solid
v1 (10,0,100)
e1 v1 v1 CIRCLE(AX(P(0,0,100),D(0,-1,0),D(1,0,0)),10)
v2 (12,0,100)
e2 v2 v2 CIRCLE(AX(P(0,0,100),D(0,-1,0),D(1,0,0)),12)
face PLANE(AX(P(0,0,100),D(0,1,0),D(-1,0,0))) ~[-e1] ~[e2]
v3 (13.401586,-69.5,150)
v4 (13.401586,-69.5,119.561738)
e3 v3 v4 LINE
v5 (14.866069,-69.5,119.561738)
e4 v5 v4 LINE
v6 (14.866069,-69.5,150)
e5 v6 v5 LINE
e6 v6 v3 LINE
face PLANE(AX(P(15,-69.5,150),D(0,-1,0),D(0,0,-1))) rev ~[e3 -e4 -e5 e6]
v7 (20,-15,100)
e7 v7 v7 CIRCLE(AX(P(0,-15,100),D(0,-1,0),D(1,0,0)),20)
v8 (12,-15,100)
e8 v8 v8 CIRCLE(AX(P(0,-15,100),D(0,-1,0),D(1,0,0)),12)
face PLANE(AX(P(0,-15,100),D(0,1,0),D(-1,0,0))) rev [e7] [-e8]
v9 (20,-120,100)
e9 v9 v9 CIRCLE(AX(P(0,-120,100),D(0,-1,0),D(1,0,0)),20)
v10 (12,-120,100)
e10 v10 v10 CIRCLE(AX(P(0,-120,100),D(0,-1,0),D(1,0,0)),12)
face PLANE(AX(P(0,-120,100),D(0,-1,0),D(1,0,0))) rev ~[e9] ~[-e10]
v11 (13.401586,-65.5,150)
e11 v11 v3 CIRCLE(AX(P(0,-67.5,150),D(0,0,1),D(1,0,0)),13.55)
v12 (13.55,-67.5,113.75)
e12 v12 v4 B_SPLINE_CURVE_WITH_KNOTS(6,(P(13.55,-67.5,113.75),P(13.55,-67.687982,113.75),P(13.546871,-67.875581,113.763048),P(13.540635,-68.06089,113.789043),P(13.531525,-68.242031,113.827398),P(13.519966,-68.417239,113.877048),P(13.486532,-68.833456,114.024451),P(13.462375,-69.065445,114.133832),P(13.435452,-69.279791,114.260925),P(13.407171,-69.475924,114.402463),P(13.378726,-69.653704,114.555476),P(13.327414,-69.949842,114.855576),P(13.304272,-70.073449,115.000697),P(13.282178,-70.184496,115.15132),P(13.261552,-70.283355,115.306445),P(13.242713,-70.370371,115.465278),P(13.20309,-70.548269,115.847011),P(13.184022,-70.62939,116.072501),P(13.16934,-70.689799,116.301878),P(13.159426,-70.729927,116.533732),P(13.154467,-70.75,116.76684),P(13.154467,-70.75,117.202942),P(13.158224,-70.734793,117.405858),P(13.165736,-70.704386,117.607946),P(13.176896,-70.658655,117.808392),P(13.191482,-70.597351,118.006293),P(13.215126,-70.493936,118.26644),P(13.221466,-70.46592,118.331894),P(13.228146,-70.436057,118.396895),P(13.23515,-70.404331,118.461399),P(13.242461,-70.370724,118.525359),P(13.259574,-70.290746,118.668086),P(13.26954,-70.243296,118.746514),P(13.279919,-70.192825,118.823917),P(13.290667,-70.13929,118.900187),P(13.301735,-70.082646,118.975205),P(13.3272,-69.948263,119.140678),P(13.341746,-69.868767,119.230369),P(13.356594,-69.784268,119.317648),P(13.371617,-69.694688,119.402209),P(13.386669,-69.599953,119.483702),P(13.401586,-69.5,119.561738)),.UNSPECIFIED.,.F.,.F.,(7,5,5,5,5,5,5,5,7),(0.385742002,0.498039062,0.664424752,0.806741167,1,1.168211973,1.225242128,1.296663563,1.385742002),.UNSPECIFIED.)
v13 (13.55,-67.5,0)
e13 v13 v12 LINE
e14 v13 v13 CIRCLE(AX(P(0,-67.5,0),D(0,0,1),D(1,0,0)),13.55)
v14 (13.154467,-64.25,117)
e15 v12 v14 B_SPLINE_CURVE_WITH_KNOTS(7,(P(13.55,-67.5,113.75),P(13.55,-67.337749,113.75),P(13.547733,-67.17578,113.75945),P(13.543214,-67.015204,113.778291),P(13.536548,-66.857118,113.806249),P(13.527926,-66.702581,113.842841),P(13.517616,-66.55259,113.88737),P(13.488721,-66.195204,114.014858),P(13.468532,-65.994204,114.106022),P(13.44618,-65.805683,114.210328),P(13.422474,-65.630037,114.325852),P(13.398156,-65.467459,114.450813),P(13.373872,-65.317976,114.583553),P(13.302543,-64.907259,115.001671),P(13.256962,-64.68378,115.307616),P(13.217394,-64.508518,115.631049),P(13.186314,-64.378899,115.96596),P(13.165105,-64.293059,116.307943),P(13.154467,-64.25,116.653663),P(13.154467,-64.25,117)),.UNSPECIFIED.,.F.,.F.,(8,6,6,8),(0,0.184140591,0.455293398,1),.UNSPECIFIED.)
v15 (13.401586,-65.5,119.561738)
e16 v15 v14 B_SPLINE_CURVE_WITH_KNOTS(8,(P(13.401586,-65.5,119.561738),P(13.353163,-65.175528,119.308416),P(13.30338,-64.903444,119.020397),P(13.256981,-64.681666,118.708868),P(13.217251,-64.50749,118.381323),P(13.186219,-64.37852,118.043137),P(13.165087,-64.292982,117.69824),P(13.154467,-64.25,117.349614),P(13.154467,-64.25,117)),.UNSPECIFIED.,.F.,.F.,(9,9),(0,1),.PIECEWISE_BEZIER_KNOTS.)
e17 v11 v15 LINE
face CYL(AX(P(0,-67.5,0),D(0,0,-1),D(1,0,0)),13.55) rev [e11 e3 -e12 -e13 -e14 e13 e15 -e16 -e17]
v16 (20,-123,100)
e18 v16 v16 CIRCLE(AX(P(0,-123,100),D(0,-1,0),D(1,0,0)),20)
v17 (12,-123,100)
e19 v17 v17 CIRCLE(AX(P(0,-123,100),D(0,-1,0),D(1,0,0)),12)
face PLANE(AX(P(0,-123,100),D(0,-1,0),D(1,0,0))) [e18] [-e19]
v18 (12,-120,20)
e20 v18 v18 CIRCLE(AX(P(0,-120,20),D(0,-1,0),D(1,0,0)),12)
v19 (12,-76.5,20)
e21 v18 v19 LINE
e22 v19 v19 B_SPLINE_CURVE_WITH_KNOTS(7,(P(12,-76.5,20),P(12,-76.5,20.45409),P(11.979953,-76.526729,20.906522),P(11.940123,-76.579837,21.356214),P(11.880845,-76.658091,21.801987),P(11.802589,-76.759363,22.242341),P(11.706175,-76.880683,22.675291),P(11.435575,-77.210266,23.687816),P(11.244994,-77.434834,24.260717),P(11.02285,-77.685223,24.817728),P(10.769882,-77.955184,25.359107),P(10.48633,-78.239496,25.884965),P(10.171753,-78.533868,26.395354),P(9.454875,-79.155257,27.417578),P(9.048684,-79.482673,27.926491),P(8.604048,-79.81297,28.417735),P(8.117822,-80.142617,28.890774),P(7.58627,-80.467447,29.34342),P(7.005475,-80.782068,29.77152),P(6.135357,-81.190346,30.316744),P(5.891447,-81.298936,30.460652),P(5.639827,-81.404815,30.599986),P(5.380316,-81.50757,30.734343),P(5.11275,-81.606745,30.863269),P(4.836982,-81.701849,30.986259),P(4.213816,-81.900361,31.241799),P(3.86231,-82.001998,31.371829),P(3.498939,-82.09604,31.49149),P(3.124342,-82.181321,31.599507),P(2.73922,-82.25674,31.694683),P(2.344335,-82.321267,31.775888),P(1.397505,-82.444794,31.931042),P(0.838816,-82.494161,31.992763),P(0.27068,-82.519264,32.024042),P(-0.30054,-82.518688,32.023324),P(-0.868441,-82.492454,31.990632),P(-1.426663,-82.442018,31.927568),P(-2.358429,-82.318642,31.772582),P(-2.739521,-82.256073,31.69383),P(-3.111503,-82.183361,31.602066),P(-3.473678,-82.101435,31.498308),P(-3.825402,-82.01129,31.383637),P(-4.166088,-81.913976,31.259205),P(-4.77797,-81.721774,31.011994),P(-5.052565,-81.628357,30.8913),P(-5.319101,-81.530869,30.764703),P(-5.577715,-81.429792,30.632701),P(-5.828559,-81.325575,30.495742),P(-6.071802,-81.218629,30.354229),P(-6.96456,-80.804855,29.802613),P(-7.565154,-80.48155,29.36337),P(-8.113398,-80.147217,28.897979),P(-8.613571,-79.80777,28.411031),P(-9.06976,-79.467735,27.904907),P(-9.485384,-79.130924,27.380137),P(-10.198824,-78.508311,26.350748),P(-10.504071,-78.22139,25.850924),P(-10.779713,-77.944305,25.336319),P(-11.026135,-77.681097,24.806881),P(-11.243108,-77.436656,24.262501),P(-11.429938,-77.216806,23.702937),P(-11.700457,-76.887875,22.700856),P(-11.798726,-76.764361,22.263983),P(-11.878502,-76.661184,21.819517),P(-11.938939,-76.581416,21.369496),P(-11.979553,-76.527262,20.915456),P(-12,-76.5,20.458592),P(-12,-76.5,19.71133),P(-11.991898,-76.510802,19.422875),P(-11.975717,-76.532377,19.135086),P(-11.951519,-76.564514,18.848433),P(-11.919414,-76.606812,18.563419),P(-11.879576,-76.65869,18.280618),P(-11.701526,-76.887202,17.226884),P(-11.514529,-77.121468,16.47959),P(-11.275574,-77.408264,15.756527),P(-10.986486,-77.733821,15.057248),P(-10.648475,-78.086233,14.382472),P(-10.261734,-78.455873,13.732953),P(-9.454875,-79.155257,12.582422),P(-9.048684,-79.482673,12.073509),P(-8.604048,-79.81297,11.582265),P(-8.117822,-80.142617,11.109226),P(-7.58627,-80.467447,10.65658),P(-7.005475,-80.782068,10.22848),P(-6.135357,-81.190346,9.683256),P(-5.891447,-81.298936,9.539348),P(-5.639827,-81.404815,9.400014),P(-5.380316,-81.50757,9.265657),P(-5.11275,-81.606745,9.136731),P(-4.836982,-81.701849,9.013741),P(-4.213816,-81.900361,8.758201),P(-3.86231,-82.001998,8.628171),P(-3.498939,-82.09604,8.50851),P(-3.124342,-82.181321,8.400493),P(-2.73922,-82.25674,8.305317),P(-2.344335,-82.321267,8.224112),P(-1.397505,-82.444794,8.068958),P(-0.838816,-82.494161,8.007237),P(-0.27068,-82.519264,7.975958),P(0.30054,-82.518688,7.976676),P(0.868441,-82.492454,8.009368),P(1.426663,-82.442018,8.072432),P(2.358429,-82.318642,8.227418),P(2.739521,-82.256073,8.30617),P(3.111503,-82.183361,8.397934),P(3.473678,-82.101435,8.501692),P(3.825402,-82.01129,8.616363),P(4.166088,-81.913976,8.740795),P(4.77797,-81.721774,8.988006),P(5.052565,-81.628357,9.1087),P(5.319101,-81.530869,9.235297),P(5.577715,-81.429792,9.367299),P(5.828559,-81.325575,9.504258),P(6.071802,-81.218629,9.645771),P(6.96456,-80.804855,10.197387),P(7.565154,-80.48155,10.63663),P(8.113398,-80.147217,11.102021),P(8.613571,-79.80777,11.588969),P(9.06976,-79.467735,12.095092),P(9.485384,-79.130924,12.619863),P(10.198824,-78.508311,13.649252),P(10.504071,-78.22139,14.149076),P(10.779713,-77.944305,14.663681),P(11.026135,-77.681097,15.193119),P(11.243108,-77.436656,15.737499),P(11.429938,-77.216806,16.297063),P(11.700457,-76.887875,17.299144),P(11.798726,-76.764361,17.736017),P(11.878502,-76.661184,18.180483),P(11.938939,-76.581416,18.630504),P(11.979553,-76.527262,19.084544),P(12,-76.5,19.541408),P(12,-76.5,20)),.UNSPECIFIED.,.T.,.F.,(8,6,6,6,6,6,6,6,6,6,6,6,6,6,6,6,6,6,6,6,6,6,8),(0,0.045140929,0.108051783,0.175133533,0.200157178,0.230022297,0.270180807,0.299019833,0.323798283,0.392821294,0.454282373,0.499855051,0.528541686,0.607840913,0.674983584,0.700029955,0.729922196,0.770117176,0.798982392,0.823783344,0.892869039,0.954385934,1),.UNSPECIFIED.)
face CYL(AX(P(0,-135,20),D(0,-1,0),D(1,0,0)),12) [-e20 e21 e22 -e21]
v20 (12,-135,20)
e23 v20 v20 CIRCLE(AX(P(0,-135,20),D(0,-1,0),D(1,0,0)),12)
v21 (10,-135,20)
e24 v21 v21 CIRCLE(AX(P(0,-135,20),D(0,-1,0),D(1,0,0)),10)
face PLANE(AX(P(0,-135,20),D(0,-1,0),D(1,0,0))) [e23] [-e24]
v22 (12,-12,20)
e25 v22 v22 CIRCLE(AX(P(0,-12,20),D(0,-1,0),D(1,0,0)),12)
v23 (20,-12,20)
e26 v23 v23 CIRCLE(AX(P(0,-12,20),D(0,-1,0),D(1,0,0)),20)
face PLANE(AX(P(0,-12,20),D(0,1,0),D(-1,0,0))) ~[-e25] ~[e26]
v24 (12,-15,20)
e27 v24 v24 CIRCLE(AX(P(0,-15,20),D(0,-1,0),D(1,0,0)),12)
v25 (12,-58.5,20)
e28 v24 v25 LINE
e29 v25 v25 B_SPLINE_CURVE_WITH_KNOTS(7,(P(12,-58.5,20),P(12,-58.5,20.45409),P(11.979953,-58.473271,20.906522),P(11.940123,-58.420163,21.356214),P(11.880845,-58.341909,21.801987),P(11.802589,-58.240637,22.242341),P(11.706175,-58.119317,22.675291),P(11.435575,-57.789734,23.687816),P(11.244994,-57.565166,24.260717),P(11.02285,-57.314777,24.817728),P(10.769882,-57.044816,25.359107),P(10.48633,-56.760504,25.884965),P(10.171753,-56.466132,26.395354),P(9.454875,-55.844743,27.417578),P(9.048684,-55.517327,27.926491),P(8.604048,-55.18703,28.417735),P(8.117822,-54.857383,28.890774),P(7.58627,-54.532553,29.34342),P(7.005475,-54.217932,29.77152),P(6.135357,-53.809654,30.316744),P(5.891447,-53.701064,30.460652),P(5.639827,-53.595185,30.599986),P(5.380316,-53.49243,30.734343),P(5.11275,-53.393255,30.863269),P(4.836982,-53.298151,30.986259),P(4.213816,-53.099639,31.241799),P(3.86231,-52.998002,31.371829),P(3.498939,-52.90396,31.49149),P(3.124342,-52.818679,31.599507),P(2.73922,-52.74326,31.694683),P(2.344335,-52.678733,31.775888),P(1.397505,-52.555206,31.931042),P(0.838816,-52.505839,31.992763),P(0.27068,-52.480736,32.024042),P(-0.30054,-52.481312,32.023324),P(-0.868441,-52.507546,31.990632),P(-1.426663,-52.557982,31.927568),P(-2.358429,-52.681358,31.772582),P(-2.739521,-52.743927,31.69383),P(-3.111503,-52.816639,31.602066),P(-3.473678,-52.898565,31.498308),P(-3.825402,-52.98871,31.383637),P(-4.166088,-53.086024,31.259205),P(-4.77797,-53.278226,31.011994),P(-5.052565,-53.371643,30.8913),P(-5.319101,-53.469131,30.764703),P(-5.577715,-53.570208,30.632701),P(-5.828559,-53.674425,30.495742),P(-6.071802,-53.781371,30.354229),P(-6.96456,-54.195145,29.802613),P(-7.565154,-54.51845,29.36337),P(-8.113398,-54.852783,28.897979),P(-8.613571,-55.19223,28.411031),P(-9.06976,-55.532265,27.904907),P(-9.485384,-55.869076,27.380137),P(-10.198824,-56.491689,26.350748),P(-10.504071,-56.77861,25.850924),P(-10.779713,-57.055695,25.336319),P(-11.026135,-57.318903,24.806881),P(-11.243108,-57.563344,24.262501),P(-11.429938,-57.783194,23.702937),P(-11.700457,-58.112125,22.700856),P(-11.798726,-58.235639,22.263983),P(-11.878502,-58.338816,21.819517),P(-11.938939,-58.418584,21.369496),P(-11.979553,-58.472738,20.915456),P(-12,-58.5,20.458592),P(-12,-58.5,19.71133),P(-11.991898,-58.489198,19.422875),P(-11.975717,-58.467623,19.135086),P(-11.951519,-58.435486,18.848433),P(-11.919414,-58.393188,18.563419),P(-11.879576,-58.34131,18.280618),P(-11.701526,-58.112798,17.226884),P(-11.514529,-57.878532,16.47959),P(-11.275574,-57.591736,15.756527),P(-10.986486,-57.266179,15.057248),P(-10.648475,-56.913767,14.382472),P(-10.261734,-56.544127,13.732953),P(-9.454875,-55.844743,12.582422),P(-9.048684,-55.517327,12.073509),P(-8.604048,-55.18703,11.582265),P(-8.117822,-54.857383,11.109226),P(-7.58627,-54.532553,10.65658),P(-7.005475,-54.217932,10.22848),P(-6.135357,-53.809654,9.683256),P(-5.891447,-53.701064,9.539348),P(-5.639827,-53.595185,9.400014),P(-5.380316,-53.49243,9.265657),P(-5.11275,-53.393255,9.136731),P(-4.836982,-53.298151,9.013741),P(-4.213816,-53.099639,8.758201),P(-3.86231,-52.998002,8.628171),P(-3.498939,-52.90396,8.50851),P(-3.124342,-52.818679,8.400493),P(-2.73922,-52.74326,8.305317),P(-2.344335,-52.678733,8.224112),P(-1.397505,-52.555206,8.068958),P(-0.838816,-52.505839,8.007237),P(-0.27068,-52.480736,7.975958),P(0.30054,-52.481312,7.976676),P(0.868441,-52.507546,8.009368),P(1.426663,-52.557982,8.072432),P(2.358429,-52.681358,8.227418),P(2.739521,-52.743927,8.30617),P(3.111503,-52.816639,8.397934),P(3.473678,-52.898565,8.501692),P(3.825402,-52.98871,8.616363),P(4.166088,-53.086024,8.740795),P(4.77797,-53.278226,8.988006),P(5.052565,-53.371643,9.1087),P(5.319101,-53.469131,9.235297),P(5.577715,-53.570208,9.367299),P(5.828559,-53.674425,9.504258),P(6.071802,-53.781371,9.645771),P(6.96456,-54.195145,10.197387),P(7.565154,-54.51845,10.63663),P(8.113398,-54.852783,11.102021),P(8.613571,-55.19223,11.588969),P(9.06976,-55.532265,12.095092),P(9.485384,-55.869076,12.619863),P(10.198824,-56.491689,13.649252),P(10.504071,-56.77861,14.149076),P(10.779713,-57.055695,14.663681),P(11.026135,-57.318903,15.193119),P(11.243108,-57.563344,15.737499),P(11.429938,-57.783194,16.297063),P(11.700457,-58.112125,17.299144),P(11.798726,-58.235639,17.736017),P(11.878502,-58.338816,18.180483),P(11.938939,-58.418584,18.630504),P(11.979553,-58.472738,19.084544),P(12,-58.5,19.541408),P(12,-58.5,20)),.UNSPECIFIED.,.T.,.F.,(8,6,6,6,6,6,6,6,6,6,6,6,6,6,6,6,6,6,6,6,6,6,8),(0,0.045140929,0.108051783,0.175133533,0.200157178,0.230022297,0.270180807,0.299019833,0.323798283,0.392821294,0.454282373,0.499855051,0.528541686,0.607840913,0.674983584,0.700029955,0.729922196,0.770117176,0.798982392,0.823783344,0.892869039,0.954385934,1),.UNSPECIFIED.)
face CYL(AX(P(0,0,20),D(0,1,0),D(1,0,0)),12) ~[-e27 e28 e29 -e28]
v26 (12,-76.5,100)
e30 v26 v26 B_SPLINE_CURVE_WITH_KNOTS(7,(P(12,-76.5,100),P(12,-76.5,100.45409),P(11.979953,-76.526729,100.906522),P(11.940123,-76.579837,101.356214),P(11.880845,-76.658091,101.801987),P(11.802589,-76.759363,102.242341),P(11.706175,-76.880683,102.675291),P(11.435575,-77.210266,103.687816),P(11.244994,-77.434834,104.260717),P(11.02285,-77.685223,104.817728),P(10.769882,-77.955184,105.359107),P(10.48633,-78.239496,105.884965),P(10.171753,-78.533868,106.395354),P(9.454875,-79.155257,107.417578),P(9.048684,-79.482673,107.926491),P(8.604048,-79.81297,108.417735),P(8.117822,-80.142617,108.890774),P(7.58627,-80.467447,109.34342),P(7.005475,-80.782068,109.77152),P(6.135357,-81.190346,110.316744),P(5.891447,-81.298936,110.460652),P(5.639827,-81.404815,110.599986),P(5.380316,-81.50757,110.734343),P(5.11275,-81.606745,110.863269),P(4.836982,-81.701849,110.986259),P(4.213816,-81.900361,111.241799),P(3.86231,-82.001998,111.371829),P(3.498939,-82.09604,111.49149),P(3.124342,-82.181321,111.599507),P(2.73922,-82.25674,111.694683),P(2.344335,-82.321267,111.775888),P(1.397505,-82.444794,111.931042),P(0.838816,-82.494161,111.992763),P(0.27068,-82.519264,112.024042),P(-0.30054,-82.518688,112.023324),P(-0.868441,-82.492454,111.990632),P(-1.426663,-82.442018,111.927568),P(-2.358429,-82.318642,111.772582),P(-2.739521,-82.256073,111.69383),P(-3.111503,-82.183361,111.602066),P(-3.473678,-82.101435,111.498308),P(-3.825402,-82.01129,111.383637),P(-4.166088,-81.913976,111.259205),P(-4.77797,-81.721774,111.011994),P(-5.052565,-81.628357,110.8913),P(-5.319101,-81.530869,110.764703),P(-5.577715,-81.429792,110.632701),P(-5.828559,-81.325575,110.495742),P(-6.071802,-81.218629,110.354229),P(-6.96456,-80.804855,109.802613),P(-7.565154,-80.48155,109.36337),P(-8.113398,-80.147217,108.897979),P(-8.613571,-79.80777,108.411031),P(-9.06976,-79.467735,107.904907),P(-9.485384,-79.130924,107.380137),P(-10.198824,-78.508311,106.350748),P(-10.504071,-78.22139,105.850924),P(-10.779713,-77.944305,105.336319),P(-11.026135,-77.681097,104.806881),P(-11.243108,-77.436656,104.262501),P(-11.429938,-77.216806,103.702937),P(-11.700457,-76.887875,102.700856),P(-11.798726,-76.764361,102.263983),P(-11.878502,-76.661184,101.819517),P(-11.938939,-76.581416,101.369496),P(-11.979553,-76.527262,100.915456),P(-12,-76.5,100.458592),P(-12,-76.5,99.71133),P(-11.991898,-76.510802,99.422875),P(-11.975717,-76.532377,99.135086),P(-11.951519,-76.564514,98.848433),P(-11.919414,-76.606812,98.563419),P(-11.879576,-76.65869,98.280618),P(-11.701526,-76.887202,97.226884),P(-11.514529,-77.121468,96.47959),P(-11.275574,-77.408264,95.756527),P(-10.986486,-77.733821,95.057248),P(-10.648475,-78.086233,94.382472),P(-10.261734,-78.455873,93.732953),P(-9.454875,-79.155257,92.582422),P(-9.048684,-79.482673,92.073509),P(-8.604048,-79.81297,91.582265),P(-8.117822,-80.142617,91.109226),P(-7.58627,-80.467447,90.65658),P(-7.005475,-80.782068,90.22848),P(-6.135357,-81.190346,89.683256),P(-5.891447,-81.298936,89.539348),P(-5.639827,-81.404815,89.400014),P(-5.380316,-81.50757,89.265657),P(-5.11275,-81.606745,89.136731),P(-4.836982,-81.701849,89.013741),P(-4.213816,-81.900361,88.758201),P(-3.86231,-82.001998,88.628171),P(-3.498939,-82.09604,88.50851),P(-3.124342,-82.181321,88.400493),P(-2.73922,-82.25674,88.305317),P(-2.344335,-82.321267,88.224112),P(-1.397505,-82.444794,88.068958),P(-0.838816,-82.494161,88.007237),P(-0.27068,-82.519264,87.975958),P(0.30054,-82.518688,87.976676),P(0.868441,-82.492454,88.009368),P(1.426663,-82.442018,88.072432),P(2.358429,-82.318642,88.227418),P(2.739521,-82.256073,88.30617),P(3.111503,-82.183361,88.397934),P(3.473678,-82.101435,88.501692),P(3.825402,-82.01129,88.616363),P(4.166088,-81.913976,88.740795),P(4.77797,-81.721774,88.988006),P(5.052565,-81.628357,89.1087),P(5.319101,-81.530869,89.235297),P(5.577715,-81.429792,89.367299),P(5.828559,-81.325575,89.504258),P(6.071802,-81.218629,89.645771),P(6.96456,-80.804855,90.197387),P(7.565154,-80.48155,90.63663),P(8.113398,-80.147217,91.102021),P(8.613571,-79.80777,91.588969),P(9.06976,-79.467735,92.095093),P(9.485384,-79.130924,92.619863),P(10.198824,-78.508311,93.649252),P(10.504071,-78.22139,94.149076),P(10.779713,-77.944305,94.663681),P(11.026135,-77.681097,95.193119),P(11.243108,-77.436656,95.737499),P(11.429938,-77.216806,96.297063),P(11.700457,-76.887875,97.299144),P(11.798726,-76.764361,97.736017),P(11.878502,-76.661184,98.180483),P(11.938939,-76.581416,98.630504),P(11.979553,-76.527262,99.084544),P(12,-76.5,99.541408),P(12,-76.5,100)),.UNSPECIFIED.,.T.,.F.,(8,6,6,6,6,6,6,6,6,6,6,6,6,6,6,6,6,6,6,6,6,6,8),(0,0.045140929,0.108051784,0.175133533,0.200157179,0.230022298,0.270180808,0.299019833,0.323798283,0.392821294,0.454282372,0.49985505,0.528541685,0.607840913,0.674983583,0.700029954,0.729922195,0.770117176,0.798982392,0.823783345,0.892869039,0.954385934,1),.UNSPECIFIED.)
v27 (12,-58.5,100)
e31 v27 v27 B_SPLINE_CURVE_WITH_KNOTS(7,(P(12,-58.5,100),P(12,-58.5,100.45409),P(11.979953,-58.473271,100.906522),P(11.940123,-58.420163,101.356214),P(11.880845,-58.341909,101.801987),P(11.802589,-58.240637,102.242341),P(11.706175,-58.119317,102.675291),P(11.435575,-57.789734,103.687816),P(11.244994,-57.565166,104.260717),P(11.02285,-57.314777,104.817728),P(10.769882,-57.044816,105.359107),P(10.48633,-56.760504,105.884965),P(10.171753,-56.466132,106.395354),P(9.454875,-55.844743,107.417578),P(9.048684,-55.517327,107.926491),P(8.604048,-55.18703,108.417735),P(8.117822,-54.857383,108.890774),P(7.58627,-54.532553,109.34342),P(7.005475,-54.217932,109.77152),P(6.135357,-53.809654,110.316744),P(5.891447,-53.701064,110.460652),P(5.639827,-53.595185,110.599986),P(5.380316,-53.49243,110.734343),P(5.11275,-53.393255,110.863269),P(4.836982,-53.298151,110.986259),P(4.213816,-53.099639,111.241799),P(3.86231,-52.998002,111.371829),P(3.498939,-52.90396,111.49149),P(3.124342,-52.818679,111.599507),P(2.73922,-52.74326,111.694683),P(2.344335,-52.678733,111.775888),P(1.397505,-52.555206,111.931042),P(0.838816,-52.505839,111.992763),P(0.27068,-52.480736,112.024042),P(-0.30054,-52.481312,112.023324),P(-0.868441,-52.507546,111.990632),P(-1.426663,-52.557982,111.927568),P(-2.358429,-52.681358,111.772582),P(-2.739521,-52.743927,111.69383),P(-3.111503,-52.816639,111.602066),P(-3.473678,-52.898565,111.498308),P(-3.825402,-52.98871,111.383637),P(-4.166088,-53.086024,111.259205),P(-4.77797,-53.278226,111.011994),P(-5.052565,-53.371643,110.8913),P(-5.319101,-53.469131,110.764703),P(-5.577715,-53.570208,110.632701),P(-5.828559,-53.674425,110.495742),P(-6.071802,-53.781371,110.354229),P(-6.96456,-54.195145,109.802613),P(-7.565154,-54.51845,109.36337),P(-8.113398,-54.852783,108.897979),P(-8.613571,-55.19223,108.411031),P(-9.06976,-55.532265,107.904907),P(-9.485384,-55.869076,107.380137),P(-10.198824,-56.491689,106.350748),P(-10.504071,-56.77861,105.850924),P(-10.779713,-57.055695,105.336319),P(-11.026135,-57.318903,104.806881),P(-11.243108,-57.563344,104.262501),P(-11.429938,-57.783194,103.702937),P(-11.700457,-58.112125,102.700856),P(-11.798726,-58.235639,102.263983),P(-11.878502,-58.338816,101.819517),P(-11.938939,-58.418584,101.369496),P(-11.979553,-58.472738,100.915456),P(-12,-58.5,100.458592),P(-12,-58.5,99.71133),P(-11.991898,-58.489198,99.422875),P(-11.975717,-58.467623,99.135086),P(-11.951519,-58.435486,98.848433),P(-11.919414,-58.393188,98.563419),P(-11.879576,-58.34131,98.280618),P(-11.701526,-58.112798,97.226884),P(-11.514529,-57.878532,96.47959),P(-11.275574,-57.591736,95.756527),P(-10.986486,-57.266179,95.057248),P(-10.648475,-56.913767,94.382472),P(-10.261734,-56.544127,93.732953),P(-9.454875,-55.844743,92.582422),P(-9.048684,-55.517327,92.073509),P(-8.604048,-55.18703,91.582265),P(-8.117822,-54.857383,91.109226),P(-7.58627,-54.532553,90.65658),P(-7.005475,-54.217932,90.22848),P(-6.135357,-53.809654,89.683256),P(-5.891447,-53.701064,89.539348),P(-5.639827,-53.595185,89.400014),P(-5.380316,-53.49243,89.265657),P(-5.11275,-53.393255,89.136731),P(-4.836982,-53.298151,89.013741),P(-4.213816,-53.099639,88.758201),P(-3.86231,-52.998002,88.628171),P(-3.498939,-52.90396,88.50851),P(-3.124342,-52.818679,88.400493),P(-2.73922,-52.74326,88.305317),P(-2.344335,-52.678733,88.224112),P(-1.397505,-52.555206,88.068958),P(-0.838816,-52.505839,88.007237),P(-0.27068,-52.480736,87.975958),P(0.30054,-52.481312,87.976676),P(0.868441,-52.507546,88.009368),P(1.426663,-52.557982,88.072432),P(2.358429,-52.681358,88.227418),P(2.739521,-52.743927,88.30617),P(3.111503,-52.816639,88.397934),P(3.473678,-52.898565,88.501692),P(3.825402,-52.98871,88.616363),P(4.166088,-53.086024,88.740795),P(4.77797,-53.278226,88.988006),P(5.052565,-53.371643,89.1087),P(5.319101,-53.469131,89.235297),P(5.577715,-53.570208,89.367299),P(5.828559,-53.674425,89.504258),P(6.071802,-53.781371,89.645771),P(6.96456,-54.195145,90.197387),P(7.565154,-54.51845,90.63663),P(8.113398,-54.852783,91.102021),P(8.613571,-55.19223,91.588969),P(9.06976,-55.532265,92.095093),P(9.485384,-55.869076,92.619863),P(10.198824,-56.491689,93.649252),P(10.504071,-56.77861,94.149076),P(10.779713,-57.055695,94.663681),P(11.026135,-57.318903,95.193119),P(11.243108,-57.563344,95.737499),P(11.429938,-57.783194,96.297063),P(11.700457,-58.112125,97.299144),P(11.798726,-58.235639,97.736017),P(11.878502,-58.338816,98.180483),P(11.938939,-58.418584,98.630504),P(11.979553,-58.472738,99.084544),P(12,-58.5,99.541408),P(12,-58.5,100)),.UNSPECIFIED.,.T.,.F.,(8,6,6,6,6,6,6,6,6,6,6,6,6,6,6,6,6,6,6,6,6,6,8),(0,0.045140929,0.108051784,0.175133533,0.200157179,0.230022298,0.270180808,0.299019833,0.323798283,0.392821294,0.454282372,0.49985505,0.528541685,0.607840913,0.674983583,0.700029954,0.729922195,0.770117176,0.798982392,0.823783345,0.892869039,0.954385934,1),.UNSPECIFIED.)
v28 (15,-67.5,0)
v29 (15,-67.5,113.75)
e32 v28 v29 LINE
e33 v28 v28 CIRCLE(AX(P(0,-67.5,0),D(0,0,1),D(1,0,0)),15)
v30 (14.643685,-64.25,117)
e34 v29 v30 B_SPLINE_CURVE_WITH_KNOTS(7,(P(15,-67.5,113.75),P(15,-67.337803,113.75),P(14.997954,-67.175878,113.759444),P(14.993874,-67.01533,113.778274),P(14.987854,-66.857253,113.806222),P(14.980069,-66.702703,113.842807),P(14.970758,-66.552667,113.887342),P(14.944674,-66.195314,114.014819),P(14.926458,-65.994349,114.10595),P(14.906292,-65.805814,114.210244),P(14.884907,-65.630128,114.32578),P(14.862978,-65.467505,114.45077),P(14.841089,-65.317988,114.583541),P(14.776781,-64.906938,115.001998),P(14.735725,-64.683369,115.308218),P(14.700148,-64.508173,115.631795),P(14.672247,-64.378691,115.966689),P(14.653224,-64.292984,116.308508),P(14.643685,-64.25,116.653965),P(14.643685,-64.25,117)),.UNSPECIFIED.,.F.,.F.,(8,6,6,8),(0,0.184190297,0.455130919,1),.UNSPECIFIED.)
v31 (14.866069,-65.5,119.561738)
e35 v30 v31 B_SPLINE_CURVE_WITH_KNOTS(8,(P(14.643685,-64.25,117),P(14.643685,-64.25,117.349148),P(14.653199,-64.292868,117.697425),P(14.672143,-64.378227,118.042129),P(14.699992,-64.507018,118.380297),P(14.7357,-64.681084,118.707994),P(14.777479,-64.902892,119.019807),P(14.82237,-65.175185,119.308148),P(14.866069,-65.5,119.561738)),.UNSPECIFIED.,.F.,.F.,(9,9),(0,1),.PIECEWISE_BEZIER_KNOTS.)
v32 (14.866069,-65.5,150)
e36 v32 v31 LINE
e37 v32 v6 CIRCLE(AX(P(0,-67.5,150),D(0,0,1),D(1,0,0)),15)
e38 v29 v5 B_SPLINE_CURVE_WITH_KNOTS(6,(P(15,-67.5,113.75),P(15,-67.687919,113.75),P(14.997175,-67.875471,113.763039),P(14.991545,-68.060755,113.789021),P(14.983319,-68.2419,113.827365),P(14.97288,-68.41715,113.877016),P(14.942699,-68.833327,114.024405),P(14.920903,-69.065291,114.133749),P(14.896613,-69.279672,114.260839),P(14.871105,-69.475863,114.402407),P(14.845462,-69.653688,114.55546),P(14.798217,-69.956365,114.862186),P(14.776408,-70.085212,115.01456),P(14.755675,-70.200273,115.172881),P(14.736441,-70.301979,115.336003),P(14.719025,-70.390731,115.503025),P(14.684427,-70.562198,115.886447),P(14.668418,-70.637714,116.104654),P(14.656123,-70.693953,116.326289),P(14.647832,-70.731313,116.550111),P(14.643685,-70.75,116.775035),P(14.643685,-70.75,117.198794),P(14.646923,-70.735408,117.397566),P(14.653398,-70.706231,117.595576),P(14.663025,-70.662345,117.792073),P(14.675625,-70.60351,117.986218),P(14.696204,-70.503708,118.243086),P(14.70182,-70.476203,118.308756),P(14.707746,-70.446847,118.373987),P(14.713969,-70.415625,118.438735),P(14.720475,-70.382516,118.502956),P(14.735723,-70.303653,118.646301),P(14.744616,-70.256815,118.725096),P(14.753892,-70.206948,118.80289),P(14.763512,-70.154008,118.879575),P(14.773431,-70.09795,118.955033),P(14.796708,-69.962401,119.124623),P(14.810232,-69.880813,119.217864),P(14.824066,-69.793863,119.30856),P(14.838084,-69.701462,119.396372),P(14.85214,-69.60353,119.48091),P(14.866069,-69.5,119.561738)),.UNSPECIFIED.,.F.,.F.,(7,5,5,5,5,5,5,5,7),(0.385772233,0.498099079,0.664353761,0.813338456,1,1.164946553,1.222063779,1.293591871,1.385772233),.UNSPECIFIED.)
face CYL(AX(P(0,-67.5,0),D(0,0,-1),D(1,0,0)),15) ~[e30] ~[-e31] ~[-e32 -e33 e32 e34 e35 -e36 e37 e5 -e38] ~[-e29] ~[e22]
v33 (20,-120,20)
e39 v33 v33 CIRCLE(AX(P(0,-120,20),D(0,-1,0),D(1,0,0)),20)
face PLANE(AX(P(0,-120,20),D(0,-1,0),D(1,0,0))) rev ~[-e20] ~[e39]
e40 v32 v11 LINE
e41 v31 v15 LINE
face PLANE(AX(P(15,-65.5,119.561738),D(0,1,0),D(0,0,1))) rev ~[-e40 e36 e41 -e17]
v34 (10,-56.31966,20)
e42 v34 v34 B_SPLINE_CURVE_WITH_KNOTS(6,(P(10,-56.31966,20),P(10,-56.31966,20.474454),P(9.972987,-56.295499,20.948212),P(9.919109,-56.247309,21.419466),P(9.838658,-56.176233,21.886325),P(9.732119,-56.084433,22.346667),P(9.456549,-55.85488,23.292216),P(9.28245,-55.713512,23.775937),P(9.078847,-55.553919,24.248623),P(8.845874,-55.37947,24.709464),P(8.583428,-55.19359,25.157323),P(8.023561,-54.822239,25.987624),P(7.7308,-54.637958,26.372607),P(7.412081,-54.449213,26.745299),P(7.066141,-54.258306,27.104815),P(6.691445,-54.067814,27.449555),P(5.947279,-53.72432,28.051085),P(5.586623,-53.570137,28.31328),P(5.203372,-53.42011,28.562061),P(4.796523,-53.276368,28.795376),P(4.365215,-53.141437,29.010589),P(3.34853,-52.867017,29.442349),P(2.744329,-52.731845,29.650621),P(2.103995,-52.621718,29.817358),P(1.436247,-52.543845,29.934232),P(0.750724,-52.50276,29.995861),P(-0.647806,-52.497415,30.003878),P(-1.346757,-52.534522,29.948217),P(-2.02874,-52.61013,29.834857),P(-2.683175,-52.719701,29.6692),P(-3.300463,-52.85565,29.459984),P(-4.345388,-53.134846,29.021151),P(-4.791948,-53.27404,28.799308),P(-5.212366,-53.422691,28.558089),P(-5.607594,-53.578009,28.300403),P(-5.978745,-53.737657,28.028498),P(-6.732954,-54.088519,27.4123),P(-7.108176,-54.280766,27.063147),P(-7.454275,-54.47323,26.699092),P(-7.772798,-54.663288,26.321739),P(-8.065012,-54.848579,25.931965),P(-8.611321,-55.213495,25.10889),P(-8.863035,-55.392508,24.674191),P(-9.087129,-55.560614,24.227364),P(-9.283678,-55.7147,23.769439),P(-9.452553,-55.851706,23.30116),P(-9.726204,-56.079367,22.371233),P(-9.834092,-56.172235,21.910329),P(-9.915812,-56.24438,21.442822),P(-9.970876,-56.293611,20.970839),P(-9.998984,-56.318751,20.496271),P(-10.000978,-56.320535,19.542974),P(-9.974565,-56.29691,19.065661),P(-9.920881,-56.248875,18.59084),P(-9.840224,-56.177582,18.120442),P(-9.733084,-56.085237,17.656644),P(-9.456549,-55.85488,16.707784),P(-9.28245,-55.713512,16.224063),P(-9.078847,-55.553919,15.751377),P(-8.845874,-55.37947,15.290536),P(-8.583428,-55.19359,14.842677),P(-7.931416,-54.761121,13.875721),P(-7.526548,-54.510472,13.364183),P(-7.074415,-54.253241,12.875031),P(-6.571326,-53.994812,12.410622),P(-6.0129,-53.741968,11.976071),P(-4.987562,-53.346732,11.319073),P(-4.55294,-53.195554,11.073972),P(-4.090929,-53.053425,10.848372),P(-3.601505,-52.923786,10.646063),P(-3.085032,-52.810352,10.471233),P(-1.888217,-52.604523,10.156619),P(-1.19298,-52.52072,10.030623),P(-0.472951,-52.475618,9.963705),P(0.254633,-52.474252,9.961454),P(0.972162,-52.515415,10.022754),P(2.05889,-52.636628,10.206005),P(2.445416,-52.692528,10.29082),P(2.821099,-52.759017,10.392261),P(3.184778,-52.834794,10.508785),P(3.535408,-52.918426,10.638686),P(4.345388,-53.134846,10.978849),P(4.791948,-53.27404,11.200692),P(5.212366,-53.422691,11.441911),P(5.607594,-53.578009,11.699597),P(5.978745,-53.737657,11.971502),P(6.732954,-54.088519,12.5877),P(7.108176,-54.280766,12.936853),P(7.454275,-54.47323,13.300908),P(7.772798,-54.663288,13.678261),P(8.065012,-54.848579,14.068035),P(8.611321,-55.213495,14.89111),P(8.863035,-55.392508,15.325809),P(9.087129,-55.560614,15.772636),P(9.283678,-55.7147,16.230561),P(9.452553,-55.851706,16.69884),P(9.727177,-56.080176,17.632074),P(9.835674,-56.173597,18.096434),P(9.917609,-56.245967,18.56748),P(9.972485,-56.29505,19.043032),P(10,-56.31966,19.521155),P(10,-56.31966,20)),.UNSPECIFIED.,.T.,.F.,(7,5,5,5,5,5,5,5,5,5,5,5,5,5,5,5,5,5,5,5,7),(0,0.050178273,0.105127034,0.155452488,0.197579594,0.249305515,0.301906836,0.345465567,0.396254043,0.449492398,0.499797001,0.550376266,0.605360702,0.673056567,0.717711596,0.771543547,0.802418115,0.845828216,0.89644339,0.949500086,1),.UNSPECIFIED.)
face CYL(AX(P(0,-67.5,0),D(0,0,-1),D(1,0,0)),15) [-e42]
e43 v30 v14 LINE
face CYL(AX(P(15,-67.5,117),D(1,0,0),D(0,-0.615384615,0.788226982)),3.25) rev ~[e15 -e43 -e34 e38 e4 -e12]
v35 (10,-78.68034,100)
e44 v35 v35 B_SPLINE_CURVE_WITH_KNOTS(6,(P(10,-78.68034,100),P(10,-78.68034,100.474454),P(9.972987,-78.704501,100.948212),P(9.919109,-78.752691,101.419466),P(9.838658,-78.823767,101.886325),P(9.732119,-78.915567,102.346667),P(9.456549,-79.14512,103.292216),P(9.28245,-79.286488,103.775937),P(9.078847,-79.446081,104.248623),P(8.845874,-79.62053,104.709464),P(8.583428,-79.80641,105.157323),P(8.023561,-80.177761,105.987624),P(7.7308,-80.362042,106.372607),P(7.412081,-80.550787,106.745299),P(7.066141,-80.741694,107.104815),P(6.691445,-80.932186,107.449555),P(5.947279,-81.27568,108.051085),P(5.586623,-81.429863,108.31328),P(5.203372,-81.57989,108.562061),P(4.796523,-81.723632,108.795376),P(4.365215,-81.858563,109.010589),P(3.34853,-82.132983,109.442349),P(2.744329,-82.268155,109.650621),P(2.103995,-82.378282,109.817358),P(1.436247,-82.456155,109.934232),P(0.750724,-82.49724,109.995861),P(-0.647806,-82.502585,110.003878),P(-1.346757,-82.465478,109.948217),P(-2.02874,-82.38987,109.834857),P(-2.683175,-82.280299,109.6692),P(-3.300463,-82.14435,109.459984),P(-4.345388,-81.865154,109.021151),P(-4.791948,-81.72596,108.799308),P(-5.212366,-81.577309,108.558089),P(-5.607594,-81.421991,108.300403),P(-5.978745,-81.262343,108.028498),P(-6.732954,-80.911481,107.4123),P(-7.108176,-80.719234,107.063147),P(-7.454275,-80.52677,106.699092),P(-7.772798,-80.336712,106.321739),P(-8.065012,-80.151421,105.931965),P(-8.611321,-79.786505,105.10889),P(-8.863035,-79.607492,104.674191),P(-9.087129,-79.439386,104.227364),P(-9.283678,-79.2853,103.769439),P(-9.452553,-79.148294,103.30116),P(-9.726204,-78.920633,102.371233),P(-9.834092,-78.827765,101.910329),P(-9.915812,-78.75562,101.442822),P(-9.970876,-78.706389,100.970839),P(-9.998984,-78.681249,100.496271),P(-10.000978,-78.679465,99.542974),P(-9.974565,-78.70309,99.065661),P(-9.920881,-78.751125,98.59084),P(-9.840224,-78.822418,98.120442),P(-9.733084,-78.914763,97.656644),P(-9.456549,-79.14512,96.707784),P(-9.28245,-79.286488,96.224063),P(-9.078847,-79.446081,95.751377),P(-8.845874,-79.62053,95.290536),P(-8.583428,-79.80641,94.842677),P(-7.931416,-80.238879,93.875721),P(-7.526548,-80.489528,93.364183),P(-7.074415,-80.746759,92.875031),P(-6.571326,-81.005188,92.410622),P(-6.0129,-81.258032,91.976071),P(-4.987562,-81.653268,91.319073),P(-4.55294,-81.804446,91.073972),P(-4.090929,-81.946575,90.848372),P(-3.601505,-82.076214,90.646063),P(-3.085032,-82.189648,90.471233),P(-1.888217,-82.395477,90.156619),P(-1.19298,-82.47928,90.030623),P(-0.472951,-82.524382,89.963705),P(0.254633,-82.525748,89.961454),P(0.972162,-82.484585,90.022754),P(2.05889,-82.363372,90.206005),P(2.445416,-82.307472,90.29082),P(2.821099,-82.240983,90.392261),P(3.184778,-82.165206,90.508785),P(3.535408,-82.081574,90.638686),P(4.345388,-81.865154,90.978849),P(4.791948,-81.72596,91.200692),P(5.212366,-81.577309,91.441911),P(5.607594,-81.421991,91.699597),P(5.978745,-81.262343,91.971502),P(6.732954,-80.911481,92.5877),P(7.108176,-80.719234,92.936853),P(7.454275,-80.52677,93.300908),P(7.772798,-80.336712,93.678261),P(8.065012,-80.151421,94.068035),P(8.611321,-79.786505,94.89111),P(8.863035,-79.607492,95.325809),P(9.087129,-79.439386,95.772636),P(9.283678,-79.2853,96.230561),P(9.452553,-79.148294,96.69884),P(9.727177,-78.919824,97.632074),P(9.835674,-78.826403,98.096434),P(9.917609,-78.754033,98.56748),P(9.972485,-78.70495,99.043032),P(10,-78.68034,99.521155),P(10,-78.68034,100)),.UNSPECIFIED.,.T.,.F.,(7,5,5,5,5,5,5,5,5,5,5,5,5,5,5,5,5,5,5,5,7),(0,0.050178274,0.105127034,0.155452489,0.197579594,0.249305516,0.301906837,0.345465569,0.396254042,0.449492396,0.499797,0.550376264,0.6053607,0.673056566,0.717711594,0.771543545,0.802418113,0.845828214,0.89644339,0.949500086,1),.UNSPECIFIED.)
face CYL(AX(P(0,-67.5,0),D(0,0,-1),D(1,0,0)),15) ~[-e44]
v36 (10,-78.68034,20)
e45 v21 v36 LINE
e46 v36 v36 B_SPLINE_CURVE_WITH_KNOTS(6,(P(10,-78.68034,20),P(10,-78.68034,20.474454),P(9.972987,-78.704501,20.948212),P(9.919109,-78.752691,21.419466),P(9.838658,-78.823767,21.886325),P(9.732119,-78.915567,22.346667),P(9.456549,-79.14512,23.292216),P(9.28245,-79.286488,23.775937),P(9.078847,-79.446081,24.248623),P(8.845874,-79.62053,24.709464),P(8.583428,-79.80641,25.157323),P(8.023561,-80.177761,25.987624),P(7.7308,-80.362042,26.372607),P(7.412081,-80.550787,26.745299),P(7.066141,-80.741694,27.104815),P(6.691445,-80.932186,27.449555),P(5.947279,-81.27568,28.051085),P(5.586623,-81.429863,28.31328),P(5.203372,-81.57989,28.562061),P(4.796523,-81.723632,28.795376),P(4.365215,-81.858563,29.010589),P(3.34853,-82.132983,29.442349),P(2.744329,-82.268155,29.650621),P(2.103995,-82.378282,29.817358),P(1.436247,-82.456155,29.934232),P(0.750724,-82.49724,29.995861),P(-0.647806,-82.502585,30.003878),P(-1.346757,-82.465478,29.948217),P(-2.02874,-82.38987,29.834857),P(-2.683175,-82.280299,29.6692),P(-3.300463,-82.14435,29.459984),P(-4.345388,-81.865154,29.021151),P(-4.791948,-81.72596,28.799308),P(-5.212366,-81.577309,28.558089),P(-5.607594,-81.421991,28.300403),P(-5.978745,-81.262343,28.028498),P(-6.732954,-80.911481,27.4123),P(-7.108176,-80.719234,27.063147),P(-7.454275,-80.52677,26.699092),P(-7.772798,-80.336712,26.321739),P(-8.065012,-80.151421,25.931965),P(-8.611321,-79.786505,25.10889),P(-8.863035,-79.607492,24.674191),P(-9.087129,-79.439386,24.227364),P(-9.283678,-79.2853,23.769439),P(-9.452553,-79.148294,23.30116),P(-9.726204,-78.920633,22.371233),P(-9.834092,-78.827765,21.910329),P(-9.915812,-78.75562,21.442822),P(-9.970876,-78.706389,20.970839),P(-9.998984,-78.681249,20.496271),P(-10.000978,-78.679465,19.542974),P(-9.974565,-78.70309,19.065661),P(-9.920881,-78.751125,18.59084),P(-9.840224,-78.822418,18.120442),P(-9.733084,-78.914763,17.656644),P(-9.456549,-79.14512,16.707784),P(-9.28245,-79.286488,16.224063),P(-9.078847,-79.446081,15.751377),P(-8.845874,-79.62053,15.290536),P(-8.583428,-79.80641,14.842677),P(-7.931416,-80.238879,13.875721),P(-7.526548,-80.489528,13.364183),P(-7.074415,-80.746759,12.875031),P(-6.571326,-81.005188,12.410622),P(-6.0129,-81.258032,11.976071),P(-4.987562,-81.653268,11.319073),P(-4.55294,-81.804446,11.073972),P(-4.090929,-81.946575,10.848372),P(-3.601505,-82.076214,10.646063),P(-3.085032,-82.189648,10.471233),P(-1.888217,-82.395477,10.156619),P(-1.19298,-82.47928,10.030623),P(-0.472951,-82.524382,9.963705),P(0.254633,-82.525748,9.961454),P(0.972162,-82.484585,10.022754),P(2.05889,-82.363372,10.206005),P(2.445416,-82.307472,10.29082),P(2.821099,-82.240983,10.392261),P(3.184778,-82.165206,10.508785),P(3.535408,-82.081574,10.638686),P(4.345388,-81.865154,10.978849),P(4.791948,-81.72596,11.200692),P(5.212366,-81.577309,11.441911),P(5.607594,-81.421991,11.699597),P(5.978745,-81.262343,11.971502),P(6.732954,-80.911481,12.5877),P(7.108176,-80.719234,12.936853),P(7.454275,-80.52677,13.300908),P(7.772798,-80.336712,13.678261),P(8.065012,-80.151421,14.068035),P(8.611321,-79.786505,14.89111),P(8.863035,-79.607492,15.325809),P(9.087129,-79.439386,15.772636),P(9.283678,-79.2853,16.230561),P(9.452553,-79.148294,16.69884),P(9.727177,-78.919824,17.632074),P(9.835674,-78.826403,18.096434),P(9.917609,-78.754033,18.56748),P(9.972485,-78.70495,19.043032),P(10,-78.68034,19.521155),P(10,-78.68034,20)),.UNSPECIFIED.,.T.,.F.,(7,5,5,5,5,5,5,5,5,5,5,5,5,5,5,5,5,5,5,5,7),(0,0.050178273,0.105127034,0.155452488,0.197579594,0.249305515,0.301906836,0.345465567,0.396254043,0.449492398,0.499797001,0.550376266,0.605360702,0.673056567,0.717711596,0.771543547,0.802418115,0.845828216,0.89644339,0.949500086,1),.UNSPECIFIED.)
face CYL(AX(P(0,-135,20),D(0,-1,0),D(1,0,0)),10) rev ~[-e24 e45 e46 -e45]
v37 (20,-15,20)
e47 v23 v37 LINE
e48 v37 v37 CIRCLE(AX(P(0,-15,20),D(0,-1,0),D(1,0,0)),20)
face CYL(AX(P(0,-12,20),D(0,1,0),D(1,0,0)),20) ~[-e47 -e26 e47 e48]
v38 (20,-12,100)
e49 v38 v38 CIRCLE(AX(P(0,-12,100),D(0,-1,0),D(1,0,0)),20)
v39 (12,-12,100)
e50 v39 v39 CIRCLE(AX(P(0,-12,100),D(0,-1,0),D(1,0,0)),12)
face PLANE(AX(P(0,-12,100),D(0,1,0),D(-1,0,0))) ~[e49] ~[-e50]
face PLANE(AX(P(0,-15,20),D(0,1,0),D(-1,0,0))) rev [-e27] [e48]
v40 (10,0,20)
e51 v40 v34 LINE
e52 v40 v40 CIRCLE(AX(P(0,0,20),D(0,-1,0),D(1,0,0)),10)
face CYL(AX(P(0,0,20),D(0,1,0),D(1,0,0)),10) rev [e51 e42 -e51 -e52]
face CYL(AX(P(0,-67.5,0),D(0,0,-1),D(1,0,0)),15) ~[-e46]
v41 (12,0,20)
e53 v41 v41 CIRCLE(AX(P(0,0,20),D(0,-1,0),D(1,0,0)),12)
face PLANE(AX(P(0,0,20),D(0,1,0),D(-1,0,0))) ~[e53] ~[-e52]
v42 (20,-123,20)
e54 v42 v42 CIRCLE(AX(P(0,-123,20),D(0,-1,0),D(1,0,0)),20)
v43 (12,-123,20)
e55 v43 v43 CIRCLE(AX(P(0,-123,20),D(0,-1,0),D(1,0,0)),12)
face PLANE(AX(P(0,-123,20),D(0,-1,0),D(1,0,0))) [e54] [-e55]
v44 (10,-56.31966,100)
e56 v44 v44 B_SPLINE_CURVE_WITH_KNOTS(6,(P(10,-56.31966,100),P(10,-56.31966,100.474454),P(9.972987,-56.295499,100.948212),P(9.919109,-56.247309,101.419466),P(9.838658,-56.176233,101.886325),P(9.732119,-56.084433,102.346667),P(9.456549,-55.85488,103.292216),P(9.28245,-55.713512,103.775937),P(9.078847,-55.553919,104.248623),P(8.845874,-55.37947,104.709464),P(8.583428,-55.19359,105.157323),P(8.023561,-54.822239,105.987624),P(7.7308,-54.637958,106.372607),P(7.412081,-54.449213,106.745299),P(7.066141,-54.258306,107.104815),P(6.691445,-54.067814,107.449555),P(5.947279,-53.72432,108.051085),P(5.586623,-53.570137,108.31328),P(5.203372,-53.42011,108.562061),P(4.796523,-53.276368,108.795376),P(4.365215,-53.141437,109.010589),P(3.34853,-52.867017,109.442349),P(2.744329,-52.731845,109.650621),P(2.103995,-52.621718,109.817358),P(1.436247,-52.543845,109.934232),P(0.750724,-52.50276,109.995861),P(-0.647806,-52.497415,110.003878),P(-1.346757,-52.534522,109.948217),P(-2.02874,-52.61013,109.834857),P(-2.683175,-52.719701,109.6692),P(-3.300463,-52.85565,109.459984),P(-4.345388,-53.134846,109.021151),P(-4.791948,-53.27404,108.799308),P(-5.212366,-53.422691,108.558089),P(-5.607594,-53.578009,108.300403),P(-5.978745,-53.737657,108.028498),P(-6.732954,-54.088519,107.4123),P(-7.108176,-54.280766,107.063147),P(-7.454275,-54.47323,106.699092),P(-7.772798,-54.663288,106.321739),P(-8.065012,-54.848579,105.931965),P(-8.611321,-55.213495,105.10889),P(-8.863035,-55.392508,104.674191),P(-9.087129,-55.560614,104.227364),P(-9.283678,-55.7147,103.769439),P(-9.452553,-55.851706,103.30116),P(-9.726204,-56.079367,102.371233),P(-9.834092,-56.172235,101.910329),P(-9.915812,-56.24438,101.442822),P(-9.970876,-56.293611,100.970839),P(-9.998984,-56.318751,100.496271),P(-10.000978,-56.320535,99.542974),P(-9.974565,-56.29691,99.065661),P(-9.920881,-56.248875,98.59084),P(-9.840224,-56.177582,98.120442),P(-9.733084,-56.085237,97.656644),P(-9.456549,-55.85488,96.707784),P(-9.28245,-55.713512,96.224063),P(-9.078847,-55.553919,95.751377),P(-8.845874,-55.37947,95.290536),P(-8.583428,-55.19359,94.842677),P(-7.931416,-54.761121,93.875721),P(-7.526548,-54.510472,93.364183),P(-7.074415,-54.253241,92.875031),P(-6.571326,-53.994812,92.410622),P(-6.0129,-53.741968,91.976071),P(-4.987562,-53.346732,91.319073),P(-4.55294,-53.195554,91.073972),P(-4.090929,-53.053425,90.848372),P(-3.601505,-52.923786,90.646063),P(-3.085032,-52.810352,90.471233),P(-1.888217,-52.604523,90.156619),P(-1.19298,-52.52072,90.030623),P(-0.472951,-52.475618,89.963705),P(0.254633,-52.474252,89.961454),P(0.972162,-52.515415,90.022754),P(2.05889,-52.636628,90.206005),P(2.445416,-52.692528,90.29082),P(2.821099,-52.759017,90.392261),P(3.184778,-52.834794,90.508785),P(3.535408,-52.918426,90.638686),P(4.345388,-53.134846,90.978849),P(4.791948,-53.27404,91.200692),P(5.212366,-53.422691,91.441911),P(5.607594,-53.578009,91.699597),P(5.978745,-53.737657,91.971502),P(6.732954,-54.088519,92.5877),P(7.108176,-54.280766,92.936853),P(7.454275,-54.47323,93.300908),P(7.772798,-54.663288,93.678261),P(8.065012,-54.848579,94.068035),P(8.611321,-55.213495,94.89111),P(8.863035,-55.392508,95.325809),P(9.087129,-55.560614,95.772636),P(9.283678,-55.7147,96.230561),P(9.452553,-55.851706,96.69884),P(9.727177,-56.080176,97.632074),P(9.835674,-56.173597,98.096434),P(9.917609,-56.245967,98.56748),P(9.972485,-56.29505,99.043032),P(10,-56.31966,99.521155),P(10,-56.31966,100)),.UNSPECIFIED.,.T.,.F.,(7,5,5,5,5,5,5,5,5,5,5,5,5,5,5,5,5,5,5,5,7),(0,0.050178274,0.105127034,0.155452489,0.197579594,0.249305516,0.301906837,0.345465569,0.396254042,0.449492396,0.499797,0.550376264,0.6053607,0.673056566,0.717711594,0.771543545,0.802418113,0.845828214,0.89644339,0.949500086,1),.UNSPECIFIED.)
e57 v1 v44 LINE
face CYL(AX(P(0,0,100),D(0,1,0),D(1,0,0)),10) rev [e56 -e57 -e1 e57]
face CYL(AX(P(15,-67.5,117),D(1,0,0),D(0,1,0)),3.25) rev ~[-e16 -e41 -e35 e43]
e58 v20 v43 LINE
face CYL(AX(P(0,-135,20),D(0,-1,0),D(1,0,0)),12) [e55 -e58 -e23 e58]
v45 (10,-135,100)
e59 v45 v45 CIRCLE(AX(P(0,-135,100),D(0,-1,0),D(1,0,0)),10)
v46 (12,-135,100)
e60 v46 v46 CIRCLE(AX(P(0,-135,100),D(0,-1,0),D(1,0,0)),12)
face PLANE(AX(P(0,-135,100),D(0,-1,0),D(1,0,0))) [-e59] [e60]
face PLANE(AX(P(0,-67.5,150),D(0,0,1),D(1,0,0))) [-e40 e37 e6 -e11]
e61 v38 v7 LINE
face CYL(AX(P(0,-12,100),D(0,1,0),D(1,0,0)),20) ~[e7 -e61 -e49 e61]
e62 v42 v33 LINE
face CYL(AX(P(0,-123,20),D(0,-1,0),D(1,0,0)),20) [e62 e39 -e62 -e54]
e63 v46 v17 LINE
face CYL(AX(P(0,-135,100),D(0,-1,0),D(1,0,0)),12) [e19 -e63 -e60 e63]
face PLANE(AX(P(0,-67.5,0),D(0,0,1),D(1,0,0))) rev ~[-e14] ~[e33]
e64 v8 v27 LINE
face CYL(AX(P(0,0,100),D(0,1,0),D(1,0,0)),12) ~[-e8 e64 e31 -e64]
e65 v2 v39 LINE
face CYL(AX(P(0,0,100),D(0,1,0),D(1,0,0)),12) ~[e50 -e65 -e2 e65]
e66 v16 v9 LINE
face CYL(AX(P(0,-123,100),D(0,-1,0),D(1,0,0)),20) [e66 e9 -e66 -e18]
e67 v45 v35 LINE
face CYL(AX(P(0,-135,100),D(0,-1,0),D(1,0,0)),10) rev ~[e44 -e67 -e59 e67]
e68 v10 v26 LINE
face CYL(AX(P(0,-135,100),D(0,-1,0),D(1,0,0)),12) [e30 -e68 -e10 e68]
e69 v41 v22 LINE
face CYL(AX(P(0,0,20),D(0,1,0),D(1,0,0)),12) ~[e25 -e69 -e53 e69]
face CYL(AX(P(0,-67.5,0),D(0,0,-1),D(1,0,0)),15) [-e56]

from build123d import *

# Parameters (mm, degrees)
F4_R      = 15
F4_R_2    = 13.55
F6_DEPTH  = 150
F5_R      = 12
F5_R_2    = 10
F10_DEPTH = 4
F11_START = -12
F5_R_3    = 20
F11_DEPTH = 3


with BuildPart() as f6:
    # F4 (on Top) → F6 (new body, through all)
    with BuildSketch(Plane.XY):
        with Locations((0, -67.5)):
            Circle(F4_R)
        with Locations((0, -67.5)):
            Circle(F4_R_2, mode=Mode.SUBTRACT)
    extrude(amount=F6_DEPTH)

    # F5 (on offset) → F7 (join, up to the next surface of F6)
    with BuildSketch(Plane.XZ.offset(135)):
        with Locations((0, 100)):
            Circle(F5_R)
        with Locations((0, 100)):
            Circle(F5_R_2, mode=Mode.SUBTRACT)
        with Locations((0, 20)):
            Circle(F5_R)
        with Locations((0, 20)):
            Circle(F5_R_2, mode=Mode.SUBTRACT)
    extrude(until=Until.NEXT, dir=(0, 1, 0))

    # F9 (on plane+point) → F10 (cut)
    with BuildSketch(Plane.YZ.offset(15)):
        with BuildLine():
            ThreePointArc((-69.5, 119.5617376915), (-67.5, 120.25), (-65.5, 119.5617376915))
            Line((-65.5, 119.5617376915), (-65.5, 150))
            Line((-65.5, 150), (-69.5, 150))
            Line((-69.5, 150), (-69.5, 119.5617376915))
        make_face()
        with BuildLine():
            ThreePointArc((-69.5, 119.5617376915), (-68.9252192814, 114.0791696386), (-64.25, 117))
            ThreePointArc((-64.25, 117), (-64.5791696386, 118.4252192814), (-65.5, 119.5617376915))
            Line((-65.5, 119.5617376915), (-65.5, 117))
            Line((-65.5, 117), (-69.5, 117))
            Line((-69.5, 117), (-69.5, 119.5617376915))
        make_face()
        with BuildLine():
            Line((-65.5, 117), (-65.5, 119.5617376915))
            ThreePointArc((-65.5, 119.5617376915), (-67.5, 120.25), (-69.5, 119.5617376915))
            Line((-69.5, 119.5617376915), (-69.5, 117))
            Line((-69.5, 117), (-65.5, 117))
        make_face()
    extrude(amount=-F10_DEPTH, mode=Mode.SUBTRACT)

    # F5 (on offset) → F11 (join)
    with BuildSketch(Plane.XZ.offset(135).offset(F11_START)):
        with Locations((0, 100)):
            Circle(F5_R_3)
        with Locations((0, 100)):
            Circle(F5_R, mode=Mode.SUBTRACT)
        with Locations((0, 20)):
            Circle(F5_R_3)
        with Locations((0, 20)):
            Circle(F5_R, mode=Mode.SUBTRACT)
    extrude(amount=-F11_DEPTH)

    # F12: F6 across plane


with BuildPart() as f6_1:
    add(f6.part)
    add(f6.part.mirror(Plane.XZ.offset(67.5)))


solid = f6_1.part
